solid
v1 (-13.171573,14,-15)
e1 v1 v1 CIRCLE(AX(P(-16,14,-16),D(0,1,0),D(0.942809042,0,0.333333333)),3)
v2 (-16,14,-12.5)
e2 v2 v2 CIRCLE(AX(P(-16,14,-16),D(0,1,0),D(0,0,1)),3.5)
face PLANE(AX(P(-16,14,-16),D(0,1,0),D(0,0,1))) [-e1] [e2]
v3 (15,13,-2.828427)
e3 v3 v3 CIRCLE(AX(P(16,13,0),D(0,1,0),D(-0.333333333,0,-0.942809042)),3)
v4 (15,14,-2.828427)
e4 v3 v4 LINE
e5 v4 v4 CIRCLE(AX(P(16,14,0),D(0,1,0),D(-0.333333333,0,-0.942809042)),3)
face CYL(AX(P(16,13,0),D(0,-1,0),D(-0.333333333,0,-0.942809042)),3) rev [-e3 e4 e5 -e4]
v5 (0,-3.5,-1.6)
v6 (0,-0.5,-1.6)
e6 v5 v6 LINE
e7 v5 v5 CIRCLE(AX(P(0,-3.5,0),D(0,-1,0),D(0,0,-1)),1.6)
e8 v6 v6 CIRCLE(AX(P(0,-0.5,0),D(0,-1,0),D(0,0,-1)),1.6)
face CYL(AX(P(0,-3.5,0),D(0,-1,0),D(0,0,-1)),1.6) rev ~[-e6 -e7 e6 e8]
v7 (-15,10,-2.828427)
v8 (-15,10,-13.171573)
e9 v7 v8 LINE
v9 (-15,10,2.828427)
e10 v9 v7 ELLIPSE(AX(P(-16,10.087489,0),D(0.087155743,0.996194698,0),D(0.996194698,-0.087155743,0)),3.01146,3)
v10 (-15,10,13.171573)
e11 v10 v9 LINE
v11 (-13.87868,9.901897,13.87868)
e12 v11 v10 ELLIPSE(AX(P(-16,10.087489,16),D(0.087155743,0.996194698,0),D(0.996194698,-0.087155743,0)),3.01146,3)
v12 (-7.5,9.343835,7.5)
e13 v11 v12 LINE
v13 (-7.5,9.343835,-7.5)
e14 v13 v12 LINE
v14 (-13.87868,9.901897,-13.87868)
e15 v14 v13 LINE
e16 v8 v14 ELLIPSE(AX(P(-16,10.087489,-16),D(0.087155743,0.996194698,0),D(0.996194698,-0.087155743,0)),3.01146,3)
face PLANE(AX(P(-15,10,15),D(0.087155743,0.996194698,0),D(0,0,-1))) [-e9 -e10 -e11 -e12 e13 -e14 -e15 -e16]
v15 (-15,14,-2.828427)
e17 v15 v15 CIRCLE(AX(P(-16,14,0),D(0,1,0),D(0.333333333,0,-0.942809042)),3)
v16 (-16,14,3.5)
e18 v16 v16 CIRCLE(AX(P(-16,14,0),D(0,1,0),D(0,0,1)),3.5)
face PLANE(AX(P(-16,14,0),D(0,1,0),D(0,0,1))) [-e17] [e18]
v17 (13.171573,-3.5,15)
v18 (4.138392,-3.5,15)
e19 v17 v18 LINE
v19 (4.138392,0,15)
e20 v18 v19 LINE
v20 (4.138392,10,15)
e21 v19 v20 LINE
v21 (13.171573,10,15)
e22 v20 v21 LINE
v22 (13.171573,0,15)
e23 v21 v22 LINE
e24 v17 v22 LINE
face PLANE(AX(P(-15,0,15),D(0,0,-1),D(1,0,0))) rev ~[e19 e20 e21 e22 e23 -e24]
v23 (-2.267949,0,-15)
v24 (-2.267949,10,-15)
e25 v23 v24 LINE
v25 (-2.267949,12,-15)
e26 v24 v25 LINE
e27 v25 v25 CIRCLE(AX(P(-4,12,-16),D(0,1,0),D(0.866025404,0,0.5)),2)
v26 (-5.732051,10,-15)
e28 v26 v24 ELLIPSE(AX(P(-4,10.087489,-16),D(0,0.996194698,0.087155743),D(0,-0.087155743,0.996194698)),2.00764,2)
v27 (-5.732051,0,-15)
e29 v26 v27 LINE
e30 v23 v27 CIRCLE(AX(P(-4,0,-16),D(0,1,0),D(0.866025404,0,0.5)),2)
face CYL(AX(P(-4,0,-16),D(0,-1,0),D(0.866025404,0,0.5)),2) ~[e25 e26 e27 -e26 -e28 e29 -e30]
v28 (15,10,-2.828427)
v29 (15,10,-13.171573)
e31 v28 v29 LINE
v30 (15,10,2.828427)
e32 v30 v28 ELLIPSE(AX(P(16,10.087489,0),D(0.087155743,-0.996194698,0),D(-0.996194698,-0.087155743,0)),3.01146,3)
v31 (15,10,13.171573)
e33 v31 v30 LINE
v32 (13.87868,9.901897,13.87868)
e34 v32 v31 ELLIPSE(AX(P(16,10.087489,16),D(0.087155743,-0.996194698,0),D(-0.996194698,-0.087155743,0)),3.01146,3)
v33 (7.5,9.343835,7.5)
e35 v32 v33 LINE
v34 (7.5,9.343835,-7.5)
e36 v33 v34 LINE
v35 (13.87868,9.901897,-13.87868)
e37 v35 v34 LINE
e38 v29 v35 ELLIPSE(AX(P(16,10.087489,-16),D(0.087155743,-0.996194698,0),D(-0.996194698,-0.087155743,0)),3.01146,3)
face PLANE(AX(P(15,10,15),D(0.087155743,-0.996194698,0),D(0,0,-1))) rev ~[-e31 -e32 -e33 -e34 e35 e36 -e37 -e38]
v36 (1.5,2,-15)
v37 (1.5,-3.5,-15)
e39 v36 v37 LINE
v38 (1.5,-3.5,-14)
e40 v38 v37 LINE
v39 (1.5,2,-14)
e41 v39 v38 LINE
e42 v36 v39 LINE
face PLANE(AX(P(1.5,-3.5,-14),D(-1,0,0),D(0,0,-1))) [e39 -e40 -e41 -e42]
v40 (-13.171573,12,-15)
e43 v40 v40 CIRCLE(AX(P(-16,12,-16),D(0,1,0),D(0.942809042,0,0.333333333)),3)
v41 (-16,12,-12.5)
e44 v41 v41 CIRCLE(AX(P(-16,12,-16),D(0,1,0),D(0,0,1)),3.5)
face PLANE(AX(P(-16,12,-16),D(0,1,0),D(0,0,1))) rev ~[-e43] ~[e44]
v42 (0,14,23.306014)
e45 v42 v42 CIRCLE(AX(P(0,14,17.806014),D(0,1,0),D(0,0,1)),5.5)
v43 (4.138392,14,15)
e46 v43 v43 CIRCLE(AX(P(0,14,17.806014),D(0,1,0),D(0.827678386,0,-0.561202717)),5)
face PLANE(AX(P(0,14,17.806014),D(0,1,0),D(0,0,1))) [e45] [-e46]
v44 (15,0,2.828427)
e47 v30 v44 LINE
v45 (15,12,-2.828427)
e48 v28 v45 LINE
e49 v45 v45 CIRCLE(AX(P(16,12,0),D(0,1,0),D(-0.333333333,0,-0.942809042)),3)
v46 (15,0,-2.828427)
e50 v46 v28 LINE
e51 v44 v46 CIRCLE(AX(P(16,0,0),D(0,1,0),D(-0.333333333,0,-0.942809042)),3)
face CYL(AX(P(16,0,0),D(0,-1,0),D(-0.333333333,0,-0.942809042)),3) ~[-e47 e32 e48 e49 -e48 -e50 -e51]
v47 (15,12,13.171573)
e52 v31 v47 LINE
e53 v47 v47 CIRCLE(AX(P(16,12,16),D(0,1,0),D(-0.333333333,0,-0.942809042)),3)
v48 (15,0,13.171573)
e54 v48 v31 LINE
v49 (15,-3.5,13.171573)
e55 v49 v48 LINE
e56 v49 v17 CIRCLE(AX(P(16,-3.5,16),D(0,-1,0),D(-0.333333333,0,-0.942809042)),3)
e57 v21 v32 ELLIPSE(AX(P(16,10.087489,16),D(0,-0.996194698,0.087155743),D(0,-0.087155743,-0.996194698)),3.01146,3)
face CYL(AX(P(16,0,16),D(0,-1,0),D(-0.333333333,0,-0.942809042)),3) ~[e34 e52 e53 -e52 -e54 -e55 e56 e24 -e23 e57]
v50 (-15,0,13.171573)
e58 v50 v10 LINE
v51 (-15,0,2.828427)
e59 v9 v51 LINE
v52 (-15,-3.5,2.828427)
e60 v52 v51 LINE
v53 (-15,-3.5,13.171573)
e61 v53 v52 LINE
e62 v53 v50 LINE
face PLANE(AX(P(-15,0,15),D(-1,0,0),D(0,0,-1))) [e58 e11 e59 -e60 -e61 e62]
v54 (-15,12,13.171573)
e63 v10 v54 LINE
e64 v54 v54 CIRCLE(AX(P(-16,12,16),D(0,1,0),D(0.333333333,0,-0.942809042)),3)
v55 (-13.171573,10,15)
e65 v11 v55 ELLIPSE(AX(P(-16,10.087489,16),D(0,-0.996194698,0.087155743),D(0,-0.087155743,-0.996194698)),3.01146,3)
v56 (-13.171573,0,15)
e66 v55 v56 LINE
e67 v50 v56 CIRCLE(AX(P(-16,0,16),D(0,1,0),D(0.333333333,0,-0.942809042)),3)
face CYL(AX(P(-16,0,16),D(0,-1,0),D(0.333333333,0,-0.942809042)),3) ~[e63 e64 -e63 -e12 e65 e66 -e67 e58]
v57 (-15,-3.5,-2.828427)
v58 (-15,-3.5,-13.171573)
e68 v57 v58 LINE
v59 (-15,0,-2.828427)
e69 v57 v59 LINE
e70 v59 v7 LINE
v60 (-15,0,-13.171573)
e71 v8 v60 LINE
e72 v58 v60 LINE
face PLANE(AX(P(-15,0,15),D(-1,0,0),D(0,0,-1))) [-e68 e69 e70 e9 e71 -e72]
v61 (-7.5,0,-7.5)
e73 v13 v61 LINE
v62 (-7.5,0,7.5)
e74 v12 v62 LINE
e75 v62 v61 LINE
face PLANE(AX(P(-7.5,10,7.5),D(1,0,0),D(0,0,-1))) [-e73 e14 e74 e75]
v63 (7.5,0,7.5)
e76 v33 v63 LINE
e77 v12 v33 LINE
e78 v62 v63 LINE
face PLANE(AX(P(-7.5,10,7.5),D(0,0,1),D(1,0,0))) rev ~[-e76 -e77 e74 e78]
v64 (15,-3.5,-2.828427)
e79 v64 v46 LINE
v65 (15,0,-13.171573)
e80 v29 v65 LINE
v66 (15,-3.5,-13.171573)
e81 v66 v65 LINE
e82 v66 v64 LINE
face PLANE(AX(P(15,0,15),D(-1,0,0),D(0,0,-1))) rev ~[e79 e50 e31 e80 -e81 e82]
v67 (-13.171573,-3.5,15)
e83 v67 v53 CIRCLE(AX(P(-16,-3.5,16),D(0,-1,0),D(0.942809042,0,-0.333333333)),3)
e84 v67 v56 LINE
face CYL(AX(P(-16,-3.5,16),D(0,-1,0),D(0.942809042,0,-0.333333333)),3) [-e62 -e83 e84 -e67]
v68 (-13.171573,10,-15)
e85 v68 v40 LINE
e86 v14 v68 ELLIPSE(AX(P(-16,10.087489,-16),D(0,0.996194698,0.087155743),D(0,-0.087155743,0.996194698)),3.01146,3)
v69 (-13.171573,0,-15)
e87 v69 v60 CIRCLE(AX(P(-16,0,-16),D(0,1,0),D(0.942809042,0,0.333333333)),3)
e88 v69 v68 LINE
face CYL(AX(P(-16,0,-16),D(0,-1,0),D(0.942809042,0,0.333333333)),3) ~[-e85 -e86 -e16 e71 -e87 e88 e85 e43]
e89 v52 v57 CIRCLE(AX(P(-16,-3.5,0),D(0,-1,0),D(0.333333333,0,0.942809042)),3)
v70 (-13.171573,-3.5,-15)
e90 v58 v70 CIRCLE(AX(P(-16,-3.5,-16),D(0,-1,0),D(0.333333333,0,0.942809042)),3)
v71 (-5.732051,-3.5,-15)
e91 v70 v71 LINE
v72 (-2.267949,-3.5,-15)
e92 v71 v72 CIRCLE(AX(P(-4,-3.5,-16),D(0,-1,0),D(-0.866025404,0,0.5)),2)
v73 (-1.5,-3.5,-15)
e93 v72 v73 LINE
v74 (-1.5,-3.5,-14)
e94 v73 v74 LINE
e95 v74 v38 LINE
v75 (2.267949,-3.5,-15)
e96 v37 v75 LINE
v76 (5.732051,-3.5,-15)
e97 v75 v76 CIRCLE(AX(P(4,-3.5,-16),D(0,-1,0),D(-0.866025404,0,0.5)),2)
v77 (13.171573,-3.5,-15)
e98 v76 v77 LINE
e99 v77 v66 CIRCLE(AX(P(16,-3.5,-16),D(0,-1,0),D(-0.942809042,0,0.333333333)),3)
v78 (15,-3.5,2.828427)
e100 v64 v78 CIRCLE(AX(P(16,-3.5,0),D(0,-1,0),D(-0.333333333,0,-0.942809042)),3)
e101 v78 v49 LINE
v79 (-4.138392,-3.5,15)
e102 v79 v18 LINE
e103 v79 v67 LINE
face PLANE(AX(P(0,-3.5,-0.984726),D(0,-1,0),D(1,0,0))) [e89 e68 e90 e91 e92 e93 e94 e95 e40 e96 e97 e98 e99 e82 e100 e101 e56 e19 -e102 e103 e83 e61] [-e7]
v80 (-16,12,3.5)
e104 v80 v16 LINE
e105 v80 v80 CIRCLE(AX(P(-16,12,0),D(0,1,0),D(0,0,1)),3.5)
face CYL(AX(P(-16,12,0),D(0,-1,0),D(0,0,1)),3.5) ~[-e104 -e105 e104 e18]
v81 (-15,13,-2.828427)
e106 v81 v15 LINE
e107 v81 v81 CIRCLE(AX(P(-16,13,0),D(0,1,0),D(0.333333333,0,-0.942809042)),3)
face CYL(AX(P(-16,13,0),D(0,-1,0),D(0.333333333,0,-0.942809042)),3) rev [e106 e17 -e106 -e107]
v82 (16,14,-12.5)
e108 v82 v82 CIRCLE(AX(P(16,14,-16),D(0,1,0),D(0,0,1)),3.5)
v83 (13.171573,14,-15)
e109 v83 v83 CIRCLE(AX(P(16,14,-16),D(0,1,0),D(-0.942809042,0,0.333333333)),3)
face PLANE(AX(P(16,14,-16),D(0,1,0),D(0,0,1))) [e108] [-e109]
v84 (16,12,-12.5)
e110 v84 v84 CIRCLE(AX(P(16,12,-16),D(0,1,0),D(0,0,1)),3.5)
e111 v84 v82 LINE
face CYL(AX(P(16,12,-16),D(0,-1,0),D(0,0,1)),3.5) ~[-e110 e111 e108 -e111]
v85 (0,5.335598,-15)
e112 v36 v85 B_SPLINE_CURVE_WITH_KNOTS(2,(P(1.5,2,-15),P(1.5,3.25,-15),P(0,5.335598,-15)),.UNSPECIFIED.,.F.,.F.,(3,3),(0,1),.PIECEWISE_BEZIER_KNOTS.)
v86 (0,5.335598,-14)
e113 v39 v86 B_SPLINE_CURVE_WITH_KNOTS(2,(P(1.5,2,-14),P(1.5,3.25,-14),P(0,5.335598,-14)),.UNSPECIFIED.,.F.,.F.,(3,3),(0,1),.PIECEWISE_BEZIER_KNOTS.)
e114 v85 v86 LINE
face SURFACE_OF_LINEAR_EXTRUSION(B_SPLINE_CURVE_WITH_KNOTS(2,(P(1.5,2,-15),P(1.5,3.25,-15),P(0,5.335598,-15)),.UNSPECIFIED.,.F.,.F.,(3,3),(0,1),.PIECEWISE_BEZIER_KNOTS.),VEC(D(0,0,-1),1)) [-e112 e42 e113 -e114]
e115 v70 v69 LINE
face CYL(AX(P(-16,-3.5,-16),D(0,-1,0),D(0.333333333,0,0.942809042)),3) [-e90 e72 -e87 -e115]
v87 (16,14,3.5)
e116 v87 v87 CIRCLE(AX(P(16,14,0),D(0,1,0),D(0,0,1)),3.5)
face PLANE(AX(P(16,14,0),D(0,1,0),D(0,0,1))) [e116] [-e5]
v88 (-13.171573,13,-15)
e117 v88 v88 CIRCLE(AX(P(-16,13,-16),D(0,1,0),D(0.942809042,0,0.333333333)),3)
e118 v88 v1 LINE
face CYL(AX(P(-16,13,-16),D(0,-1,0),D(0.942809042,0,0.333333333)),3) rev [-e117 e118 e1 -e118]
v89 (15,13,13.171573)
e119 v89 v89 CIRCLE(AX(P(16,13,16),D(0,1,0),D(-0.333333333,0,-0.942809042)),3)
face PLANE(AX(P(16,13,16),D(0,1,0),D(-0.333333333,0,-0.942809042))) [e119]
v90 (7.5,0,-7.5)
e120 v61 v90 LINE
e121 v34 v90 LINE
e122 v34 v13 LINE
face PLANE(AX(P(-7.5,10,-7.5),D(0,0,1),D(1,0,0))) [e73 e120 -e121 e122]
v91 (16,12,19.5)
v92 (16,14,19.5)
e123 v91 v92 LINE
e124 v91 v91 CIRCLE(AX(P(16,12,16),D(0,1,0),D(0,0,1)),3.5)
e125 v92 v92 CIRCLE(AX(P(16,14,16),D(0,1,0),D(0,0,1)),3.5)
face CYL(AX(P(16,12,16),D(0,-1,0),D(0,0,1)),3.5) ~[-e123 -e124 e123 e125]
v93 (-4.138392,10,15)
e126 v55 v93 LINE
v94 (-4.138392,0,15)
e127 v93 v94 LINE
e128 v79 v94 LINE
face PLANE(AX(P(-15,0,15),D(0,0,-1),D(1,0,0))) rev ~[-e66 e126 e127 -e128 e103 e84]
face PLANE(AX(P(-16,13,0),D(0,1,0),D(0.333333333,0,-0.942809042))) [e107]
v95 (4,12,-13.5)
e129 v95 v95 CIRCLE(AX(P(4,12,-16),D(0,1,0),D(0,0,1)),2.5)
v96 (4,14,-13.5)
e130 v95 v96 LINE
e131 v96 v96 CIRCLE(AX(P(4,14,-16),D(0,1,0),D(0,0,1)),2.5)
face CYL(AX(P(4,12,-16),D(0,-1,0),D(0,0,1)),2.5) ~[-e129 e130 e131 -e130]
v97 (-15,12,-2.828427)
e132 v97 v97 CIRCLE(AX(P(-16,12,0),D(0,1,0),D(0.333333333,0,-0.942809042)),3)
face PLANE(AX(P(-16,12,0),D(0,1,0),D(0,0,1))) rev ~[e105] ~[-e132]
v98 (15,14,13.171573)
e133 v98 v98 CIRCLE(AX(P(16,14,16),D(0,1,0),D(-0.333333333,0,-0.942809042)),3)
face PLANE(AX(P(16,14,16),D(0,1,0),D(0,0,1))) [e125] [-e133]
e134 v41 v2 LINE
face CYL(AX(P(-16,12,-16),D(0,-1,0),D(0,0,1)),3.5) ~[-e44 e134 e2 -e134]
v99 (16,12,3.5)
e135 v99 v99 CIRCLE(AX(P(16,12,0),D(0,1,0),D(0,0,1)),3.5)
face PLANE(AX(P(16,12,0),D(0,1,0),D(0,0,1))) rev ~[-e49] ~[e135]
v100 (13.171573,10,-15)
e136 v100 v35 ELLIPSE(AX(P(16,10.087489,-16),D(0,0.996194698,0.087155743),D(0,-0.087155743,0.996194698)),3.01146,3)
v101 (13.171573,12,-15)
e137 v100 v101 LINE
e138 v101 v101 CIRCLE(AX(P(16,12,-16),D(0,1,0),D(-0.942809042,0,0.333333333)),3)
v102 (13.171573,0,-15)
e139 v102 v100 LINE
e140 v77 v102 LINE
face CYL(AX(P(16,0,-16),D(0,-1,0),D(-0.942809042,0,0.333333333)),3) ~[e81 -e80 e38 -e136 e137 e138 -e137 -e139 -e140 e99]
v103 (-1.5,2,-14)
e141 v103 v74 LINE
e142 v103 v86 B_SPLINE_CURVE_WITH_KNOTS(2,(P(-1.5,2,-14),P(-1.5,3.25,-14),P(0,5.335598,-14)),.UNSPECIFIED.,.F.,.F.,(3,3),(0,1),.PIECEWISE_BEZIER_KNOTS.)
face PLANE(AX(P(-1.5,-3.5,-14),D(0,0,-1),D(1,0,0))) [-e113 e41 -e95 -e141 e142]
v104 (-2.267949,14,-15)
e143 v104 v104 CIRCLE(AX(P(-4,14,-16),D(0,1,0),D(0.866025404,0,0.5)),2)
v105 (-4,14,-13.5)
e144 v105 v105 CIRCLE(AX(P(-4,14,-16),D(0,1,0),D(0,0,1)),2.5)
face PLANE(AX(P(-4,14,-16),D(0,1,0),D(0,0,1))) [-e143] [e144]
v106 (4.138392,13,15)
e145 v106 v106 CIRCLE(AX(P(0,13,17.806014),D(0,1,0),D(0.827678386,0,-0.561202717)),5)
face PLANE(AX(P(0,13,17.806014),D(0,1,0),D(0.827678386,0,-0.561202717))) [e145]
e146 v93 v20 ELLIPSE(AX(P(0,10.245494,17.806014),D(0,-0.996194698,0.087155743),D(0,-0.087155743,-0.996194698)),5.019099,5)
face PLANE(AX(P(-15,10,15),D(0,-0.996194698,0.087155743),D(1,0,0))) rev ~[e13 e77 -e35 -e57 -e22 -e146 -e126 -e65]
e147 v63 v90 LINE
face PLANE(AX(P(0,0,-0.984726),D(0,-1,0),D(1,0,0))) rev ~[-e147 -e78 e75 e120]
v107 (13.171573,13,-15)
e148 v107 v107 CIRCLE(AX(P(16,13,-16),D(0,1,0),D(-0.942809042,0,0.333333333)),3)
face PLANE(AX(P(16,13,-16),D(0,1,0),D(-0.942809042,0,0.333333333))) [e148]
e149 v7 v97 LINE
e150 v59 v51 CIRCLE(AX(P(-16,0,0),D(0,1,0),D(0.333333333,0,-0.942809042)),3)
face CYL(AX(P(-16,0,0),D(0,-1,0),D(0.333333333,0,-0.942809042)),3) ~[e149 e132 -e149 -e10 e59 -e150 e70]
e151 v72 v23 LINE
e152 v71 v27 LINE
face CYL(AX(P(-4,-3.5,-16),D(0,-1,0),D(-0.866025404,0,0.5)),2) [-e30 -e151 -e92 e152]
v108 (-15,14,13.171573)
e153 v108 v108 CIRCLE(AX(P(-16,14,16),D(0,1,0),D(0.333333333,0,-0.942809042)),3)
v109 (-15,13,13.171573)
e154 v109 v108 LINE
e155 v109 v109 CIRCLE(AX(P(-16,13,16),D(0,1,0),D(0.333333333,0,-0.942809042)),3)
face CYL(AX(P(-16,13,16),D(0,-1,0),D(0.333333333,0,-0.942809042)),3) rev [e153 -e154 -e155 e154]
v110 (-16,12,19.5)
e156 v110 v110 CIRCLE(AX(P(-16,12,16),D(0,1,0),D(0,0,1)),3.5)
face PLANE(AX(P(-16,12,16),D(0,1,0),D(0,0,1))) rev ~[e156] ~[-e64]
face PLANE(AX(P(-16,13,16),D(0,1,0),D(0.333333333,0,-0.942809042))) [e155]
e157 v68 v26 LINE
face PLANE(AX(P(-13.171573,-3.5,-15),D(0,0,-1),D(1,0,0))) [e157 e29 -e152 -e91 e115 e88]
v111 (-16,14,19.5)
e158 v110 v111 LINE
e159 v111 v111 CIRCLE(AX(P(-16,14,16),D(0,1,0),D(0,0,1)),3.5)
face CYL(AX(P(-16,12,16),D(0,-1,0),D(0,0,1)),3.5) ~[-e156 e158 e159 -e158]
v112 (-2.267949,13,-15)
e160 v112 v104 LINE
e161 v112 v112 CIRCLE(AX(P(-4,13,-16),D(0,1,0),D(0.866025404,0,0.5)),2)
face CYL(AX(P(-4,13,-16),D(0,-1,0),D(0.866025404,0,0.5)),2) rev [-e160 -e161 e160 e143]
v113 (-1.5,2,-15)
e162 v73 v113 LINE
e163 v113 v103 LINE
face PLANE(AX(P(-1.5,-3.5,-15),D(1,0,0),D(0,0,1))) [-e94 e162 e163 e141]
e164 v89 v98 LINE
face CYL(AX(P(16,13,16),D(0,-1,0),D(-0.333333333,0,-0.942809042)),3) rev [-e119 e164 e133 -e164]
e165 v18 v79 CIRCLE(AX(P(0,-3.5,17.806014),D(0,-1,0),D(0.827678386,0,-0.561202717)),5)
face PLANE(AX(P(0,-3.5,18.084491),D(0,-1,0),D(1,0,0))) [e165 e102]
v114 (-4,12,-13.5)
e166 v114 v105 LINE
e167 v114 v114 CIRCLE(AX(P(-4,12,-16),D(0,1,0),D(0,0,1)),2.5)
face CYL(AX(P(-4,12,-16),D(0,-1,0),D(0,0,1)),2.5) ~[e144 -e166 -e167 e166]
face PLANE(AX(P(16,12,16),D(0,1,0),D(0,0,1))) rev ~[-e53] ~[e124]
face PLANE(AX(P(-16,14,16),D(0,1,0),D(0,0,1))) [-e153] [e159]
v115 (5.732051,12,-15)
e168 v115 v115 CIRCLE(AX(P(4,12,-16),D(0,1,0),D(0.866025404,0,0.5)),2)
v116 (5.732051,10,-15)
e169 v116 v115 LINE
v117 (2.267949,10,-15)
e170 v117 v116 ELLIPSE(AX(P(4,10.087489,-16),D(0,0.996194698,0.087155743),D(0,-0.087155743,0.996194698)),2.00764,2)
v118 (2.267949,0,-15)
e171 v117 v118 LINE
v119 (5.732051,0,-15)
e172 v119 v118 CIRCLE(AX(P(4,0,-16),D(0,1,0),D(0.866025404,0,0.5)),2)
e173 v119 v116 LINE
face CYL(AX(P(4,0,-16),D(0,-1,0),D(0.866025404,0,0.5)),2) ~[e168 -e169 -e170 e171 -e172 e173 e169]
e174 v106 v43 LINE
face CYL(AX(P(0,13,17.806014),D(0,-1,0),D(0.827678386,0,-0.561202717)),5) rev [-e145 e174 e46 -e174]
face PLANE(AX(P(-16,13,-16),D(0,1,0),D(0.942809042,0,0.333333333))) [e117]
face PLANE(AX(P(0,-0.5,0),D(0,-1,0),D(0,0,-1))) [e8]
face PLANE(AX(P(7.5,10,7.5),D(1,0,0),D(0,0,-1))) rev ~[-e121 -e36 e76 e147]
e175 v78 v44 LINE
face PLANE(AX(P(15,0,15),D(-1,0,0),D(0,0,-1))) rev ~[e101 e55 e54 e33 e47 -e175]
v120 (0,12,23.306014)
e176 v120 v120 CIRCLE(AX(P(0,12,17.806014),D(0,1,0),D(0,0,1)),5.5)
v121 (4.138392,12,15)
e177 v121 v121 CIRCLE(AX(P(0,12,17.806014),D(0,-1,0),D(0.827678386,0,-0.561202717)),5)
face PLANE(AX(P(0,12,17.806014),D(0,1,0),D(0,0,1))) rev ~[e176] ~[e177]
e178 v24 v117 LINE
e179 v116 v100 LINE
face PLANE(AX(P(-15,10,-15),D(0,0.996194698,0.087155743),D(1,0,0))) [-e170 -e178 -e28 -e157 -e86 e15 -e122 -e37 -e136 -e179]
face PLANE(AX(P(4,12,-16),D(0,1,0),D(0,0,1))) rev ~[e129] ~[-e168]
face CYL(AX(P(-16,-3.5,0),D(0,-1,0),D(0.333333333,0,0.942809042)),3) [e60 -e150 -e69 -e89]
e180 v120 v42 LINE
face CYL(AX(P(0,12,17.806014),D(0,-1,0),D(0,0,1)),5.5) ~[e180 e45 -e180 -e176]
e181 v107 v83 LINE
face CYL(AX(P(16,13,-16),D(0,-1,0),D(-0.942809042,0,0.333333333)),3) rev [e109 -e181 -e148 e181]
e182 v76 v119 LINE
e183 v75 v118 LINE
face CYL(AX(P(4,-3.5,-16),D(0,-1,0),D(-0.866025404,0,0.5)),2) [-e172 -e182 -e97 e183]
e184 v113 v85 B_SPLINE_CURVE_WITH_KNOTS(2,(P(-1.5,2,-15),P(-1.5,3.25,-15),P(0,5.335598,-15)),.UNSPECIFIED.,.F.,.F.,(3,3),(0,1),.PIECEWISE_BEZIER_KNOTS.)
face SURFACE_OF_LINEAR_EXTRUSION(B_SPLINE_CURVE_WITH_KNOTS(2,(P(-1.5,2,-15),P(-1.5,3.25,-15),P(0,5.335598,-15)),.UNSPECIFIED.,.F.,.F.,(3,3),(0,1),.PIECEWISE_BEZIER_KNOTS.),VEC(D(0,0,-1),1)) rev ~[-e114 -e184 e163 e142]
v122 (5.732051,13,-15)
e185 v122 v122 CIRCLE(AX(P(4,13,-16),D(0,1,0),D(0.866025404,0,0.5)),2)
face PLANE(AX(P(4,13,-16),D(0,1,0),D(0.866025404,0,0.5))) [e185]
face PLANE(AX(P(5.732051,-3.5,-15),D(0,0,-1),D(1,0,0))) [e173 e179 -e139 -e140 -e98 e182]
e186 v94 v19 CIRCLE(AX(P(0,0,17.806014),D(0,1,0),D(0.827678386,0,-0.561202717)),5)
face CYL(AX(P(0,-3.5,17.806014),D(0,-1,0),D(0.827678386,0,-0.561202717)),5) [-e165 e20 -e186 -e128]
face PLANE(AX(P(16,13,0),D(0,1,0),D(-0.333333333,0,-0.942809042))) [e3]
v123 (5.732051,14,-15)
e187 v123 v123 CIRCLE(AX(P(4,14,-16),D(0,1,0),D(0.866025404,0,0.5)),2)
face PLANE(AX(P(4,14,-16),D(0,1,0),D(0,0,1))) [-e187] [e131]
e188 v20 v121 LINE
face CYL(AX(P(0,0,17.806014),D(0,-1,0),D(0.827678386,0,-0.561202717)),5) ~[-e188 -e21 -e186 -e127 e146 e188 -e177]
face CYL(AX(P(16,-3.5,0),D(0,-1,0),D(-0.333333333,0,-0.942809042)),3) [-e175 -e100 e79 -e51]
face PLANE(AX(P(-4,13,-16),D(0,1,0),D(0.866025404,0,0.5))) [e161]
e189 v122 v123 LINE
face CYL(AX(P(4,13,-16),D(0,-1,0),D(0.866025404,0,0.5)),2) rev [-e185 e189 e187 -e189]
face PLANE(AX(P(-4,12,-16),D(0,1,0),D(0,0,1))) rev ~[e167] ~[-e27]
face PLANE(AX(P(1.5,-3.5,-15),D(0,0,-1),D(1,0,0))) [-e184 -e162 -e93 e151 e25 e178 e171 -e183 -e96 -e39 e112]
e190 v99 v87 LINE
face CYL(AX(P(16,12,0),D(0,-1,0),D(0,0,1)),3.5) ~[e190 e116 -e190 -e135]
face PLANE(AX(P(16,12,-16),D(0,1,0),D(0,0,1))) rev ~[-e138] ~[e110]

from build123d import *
from build123d.topology import SkipClean

# Parameters (mm, degrees)
CROQUIS1_W              = 30
CROQUIS1_H              = 30
SALIENTE_EXTRUIR1_DEPTH = 10
CROQUIS2_W              = 15
CROQUIS2_H              = 15
CORTAR_EXTRUIR2_DEPTH   = 10
CROQUIS3_W              = 30
CROQUIS3_H              = 30
CORTAR_EXTRUIR3_DEPTH   = 1
CORTAR_EXTRUIR3_DRAFT   = -85
CROQUIS4_R              = 3
CROQUIS4_R_2            = 2
SALIENTE_EXTRUIR3_DEPTH = 12
CROQUIS5_R              = 3.5
CROQUIS5_R_2            = 2.5
SALIENTE_EXTRUIR4_DEPTH = 2
CORTAR_EXTRUIR4_START   = -1
CROQUIS6_R              = 3
CROQUIS6_R_2            = 2
CORTAR_EXTRUIR4_DEPTH   = 1
CORTAR_EXTRUIR5_DEPTH   = 1
SALIENTE_EXTRUIR5_START = 3.5
SALIENTE_EXTRUIR5_DEPTH = 3.5
SALIENTE_EXTRUIR6_REACH = 32.927
CROQUIS9_R              = 5
CROQUIS10_R             = 5.5
SALIENTE_EXTRUIR7_DEPTH = 2
CORTAR_EXTRUIR7_START   = -1
CROQUIS11_R             = 5
CORTAR_EXTRUIR7_DEPTH   = 1
SALIENTE_EXTRUIR8_START = 3.5
SALIENTE_EXTRUIR8_DEPTH = 3.5
CROQUIS13_R             = 1.6
CORTAR_EXTRUIR8_DEPTH   = 3


with BuildPart() as part:
    # Croquis1 → Saliente-Extruir1 (new body)
    with BuildSketch(Plane(origin=(0, 0, 0), x_dir=(1, 0, 0), z_dir=(0, 1, 0))):
        Rectangle(CROQUIS1_W, CROQUIS1_H)
    extrude(amount=SALIENTE_EXTRUIR1_DEPTH)

    # Croquis2 → Cortar-Extruir2 (cut)
    with BuildSketch(Plane(origin=(0, 10, 0), x_dir=(1, 0, 0), z_dir=(0, 1, 0))):
        Rectangle(CROQUIS2_W, CROQUIS2_H)
    extrude(amount=-CORTAR_EXTRUIR2_DEPTH, mode=Mode.SUBTRACT)


with BuildPart() as cortar_extruir3_tool:
    # Croquis3 → Cortar-Extruir3 (with draft: the straight prism first)
    with BuildSketch(Plane(origin=(0, 10, 0), x_dir=(1, 0, 0), z_dir=(0, 1, 0))):
        Rectangle(CROQUIS3_W, CROQUIS3_H)
    extrude(amount=-CORTAR_EXTRUIR3_DEPTH)
    # Cortar-Extruir3: the draft: its side faces are tilted about the plane it starts from
    cortar_extruir3_sides = [cortar_extruir3_tool.faces().sort_by_distance(p)[0] for p in [
        (15, 9.5, 0),
        (0, 9.5, -15),
        (-15, 9.5, 0),
        (0, 9.5, 15),
    ]]
    draft(cortar_extruir3_sides, Plane(origin=(0, 10, 0), x_dir=(1, 0, 0), z_dir=(0, 1, 0)), CORTAR_EXTRUIR3_DRAFT)


with BuildPart() as part_1:
    add(part.part)

    # Cortar-Extruir3: cut by cortar_extruir3_tool
    add(cortar_extruir3_tool.part, mode=Mode.SUBTRACT)

    # Croquis4 → Saliente-Extruir3 (add)
    with BuildSketch(Plane(origin=(0, 0, 0), x_dir=(1, 0, 0), z_dir=(0, 1, 0))):
        with Locations(Location((-16, 16, 0), (0, 0, 340.528779366))):
            Circle(CROQUIS4_R)
        with Locations(Location((16, 16, 0), (0, 0, 199.471220634))):
            Circle(CROQUIS4_R)
        with Locations(Location((16, 0, 0), (0, 0, 109.471220634))):
            Circle(CROQUIS4_R)
        with Locations(Location((16, -16, 0), (0, 0, 109.471220634))):
            Circle(CROQUIS4_R)
        with Locations(Location((-16, 0, 0), (0, 0, 70.528779366))):
            Circle(CROQUIS4_R)
        with Locations(Location((-16, -16, 0), (0, 0, 70.528779366))):
            Circle(CROQUIS4_R)
        with Locations(Location((-4, 16, 0), (0, 0, 330))):
            Circle(CROQUIS4_R_2)
        with Locations(Location((4, 16, 0), (0, 0, 330))):
            Circle(CROQUIS4_R_2)
    extrude(amount=SALIENTE_EXTRUIR3_DEPTH)

    # Croquis5 → Saliente-Extruir4 (add)
    with BuildSketch(Plane(origin=(0, 12, 0), x_dir=(1, 0, 0), z_dir=(0, 1, 0))):
        with Locations(Location((-16, 16, 0), (0, 0, 270))):
            Circle(CROQUIS5_R)
        with Locations(Location((-4, 16, 0), (0, 0, 270))):
            Circle(CROQUIS5_R_2)
        with Locations(Location((4, 16, 0), (0, 0, 270))):
            Circle(CROQUIS5_R_2)
        with Locations(Location((16, 16, 0), (0, 0, 270))):
            Circle(CROQUIS5_R)
        with Locations(Location((-16, 0, 0), (0, 0, 270))):
            Circle(CROQUIS5_R)
        with Locations(Location((16, 0, 0), (0, 0, 270))):
            Circle(CROQUIS5_R)
        with Locations(Location((16, -16, 0), (0, 0, 270))):
            Circle(CROQUIS5_R)
        with Locations(Location((-16, -16, 0), (0, 0, 270))):
            Circle(CROQUIS5_R)
    extrude(amount=SALIENTE_EXTRUIR4_DEPTH)

    # Croquis6 → Cortar-Extruir4 (cut)
    with BuildSketch(Plane(origin=(0, 14, 0), x_dir=(1, 0, 0), z_dir=(0, 1, 0)).offset(CORTAR_EXTRUIR4_START)):
        with Locations(Location((-16, -16, 0), (0, 0, 70.528779366))):
            Circle(CROQUIS6_R)
        with Locations(Location((-16, 0, 0), (0, 0, 70.528779366))):
            Circle(CROQUIS6_R)
        with Locations(Location((-16, 16, 0), (0, 0, 340.528779366))):
            Circle(CROQUIS6_R)
        with Locations(Location((-4, 16, 0), (0, 0, 330))):
            Circle(CROQUIS6_R_2)
        with Locations(Location((4, 16, 0), (0, 0, 330))):
            Circle(CROQUIS6_R_2)
        with Locations(Location((16, 16, 0), (0, 0, 199.471220634))):
            Circle(CROQUIS6_R)
        with Locations(Location((16, 0, 0), (0, 0, 109.471220634))):
            Circle(CROQUIS6_R)
        with Locations(Location((16, -16, 0), (0, 0, 109.471220634))):
            Circle(CROQUIS6_R)
    extrude(amount=CORTAR_EXTRUIR4_DEPTH, mode=Mode.SUBTRACT)

    # Croquis7 → Cortar-Extruir5 (cut)
    with BuildSketch(Plane(origin=(0, 0, -15), x_dir=(-1, 0, 0), z_dir=(0, 0, -1))):
        with BuildLine():
            Line((-1.5, 0), (-1.5, 2))
            add(Edge.make_bspline(
                [(-1.5, 2), (-1.5, 3.25), (0, 5.335598169)],
                knots=[0, 0, 0, 1, 1, 1], degree=2))
            add(Edge.make_bspline(
                [(1.5, 2), (1.5, 3.25), (0, 5.335598169)],
                knots=[0, 0, 0, 1, 1, 1], degree=2))
            Line((1.5, 2), (1.5, 0))
            Line((1.5, 0), (-1.5, 0))
        make_face()
    extrude(amount=-CORTAR_EXTRUIR5_DEPTH, mode=Mode.SUBTRACT)

    # Croquis8 → Saliente-Extruir5 (add)
    with SkipClean():  # the faces are left unmerged after this step: merging them gives an invalid solid
        with BuildSketch(Plane.XZ.offset(SALIENTE_EXTRUIR5_START)):
            with BuildLine():
                Line((-1.5, -15), (-1.5, -14))
                Line((-1.5, -14), (1.5, -14))
                Line((1.5, -14), (1.5, -15))
                Line((1.5, -15), (2.267949192, -15))
                ThreePointArc((2.267949192, -15), (4, -18), (5.732050808, -15))
                Line((5.732050808, -15), (13.171572875, -15))
                ThreePointArc((13.171572875, -15), (18.121320344, -18.121320344), (15, -13.171572875))
                Line((15, -13.171572875), (15, -2.828427125))
                ThreePointArc((15, -2.828427125), (19, 0), (15, 2.828427125))
                Line((15, 2.828427125), (15, 13.171572875))
                ThreePointArc((15, 13.171572875), (18.121320344, 18.121320344), (13.171572875, 15))
                Line((13.171572875, 15), (-13.171572875, 15))
                ThreePointArc((-13.171572875, 15), (-18.121320344, 18.121320344), (-15, 13.171572875))
                Line((-15, 13.171572875), (-15, 2.828427125))
                ThreePointArc((-15, 2.828427125), (-19, 0), (-15, -2.828427125))
                Line((-15, -2.828427125), (-15, -13.171572875))
                ThreePointArc((-15, -13.171572875), (-18.121320344, -18.121320344), (-13.171572875, -15))
                Line((-13.171572875, -15), (-5.732050808, -15))
                ThreePointArc((-5.732050808, -15), (-4, -18), (-2.267949192, -15))
                Line((-2.267949192, -15), (-1.5, -15))
            make_face()
        extrude(amount=-SALIENTE_EXTRUIR5_DEPTH)

    # Saliente-Extruir6: up to this face of the body (flat: up to its plane)
    saliente_extruir6_end = Plane(part_1.part.faces().sort_by_distance((-16, 12, 12.598994949))[0])
    # Croquis9 → Saliente-Extruir6 (add, up to the picked face)
    with BuildSketch(Plane(origin=(0, 0, 0), x_dir=(1, 0, 0), z_dir=(0, 1, 0)), mode=Mode.PRIVATE) as saliente_extruir6_sk1:
        with Locations(Location((0, -17.806013585, 0), (0, 0, 34.139014511))):
            Circle(CROQUIS9_R)
    saliente_extruir6_tool1 = split(extrude(saliente_extruir6_sk1.sketch, amount=SALIENTE_EXTRUIR6_REACH, mode=Mode.PRIVATE), bisect_by=saliente_extruir6_end, keep=Keep.BOTH, mode=Mode.PRIVATE)
    add(saliente_extruir6_tool1.solids().sort_by(Axis((0, 0, 17.806014), (0, 1, 0)))[0])

    # Croquis10 → Saliente-Extruir7 (add)
    with SkipClean():  # the faces are left unmerged after this step: merging them gives an invalid solid
        with BuildSketch(Plane(origin=(0, 12, 0), x_dir=(1, 0, 0), z_dir=(0, 1, 0))):
            with Locations(Location((0, -17.806013585, 0), (0, 0, 270))):
                Circle(CROQUIS10_R)
        extrude(amount=SALIENTE_EXTRUIR7_DEPTH)

    # Croquis11 → Cortar-Extruir7 (cut)
    with SkipClean():  # the faces are left unmerged after this step: merging them gives an invalid solid
        with BuildSketch(Plane(origin=(0, 14, 0), x_dir=(1, 0, 0), z_dir=(0, 1, 0)).offset(CORTAR_EXTRUIR7_START)):
            with Locations(Location((0, -17.806013585, 0), (0, 0, 34.139014511))):
                Circle(CROQUIS11_R)
        extrude(amount=CORTAR_EXTRUIR7_DEPTH, mode=Mode.SUBTRACT)

    # Croquis12 → Saliente-Extruir8 (add)
    with SkipClean():  # the faces are left unmerged after this step: merging them gives an invalid solid
        with BuildSketch(Plane.XZ.offset(SALIENTE_EXTRUIR8_START)):
            with BuildLine():
                Line((-4.138391929, 15), (4.138391929, 15))
                ThreePointArc((4.138391929, 15), (0, 22.806013585), (-4.138391929, 15))
            make_face()
        extrude(amount=-SALIENTE_EXTRUIR8_DEPTH)

    # Croquis13 → Cortar-Extruir8 (cut)
    with SkipClean():  # the faces are left unmerged after this step: merging them gives an invalid solid
        with BuildSketch(Plane.XZ.offset(3.5)):
            with Locations(Location((0, 0, 0), (0, 0, 270))):
                Circle(CROQUIS13_R)
        extrude(amount=-CORTAR_EXTRUIR8_DEPTH, mode=Mode.SUBTRACT)


solid = part_1.part
